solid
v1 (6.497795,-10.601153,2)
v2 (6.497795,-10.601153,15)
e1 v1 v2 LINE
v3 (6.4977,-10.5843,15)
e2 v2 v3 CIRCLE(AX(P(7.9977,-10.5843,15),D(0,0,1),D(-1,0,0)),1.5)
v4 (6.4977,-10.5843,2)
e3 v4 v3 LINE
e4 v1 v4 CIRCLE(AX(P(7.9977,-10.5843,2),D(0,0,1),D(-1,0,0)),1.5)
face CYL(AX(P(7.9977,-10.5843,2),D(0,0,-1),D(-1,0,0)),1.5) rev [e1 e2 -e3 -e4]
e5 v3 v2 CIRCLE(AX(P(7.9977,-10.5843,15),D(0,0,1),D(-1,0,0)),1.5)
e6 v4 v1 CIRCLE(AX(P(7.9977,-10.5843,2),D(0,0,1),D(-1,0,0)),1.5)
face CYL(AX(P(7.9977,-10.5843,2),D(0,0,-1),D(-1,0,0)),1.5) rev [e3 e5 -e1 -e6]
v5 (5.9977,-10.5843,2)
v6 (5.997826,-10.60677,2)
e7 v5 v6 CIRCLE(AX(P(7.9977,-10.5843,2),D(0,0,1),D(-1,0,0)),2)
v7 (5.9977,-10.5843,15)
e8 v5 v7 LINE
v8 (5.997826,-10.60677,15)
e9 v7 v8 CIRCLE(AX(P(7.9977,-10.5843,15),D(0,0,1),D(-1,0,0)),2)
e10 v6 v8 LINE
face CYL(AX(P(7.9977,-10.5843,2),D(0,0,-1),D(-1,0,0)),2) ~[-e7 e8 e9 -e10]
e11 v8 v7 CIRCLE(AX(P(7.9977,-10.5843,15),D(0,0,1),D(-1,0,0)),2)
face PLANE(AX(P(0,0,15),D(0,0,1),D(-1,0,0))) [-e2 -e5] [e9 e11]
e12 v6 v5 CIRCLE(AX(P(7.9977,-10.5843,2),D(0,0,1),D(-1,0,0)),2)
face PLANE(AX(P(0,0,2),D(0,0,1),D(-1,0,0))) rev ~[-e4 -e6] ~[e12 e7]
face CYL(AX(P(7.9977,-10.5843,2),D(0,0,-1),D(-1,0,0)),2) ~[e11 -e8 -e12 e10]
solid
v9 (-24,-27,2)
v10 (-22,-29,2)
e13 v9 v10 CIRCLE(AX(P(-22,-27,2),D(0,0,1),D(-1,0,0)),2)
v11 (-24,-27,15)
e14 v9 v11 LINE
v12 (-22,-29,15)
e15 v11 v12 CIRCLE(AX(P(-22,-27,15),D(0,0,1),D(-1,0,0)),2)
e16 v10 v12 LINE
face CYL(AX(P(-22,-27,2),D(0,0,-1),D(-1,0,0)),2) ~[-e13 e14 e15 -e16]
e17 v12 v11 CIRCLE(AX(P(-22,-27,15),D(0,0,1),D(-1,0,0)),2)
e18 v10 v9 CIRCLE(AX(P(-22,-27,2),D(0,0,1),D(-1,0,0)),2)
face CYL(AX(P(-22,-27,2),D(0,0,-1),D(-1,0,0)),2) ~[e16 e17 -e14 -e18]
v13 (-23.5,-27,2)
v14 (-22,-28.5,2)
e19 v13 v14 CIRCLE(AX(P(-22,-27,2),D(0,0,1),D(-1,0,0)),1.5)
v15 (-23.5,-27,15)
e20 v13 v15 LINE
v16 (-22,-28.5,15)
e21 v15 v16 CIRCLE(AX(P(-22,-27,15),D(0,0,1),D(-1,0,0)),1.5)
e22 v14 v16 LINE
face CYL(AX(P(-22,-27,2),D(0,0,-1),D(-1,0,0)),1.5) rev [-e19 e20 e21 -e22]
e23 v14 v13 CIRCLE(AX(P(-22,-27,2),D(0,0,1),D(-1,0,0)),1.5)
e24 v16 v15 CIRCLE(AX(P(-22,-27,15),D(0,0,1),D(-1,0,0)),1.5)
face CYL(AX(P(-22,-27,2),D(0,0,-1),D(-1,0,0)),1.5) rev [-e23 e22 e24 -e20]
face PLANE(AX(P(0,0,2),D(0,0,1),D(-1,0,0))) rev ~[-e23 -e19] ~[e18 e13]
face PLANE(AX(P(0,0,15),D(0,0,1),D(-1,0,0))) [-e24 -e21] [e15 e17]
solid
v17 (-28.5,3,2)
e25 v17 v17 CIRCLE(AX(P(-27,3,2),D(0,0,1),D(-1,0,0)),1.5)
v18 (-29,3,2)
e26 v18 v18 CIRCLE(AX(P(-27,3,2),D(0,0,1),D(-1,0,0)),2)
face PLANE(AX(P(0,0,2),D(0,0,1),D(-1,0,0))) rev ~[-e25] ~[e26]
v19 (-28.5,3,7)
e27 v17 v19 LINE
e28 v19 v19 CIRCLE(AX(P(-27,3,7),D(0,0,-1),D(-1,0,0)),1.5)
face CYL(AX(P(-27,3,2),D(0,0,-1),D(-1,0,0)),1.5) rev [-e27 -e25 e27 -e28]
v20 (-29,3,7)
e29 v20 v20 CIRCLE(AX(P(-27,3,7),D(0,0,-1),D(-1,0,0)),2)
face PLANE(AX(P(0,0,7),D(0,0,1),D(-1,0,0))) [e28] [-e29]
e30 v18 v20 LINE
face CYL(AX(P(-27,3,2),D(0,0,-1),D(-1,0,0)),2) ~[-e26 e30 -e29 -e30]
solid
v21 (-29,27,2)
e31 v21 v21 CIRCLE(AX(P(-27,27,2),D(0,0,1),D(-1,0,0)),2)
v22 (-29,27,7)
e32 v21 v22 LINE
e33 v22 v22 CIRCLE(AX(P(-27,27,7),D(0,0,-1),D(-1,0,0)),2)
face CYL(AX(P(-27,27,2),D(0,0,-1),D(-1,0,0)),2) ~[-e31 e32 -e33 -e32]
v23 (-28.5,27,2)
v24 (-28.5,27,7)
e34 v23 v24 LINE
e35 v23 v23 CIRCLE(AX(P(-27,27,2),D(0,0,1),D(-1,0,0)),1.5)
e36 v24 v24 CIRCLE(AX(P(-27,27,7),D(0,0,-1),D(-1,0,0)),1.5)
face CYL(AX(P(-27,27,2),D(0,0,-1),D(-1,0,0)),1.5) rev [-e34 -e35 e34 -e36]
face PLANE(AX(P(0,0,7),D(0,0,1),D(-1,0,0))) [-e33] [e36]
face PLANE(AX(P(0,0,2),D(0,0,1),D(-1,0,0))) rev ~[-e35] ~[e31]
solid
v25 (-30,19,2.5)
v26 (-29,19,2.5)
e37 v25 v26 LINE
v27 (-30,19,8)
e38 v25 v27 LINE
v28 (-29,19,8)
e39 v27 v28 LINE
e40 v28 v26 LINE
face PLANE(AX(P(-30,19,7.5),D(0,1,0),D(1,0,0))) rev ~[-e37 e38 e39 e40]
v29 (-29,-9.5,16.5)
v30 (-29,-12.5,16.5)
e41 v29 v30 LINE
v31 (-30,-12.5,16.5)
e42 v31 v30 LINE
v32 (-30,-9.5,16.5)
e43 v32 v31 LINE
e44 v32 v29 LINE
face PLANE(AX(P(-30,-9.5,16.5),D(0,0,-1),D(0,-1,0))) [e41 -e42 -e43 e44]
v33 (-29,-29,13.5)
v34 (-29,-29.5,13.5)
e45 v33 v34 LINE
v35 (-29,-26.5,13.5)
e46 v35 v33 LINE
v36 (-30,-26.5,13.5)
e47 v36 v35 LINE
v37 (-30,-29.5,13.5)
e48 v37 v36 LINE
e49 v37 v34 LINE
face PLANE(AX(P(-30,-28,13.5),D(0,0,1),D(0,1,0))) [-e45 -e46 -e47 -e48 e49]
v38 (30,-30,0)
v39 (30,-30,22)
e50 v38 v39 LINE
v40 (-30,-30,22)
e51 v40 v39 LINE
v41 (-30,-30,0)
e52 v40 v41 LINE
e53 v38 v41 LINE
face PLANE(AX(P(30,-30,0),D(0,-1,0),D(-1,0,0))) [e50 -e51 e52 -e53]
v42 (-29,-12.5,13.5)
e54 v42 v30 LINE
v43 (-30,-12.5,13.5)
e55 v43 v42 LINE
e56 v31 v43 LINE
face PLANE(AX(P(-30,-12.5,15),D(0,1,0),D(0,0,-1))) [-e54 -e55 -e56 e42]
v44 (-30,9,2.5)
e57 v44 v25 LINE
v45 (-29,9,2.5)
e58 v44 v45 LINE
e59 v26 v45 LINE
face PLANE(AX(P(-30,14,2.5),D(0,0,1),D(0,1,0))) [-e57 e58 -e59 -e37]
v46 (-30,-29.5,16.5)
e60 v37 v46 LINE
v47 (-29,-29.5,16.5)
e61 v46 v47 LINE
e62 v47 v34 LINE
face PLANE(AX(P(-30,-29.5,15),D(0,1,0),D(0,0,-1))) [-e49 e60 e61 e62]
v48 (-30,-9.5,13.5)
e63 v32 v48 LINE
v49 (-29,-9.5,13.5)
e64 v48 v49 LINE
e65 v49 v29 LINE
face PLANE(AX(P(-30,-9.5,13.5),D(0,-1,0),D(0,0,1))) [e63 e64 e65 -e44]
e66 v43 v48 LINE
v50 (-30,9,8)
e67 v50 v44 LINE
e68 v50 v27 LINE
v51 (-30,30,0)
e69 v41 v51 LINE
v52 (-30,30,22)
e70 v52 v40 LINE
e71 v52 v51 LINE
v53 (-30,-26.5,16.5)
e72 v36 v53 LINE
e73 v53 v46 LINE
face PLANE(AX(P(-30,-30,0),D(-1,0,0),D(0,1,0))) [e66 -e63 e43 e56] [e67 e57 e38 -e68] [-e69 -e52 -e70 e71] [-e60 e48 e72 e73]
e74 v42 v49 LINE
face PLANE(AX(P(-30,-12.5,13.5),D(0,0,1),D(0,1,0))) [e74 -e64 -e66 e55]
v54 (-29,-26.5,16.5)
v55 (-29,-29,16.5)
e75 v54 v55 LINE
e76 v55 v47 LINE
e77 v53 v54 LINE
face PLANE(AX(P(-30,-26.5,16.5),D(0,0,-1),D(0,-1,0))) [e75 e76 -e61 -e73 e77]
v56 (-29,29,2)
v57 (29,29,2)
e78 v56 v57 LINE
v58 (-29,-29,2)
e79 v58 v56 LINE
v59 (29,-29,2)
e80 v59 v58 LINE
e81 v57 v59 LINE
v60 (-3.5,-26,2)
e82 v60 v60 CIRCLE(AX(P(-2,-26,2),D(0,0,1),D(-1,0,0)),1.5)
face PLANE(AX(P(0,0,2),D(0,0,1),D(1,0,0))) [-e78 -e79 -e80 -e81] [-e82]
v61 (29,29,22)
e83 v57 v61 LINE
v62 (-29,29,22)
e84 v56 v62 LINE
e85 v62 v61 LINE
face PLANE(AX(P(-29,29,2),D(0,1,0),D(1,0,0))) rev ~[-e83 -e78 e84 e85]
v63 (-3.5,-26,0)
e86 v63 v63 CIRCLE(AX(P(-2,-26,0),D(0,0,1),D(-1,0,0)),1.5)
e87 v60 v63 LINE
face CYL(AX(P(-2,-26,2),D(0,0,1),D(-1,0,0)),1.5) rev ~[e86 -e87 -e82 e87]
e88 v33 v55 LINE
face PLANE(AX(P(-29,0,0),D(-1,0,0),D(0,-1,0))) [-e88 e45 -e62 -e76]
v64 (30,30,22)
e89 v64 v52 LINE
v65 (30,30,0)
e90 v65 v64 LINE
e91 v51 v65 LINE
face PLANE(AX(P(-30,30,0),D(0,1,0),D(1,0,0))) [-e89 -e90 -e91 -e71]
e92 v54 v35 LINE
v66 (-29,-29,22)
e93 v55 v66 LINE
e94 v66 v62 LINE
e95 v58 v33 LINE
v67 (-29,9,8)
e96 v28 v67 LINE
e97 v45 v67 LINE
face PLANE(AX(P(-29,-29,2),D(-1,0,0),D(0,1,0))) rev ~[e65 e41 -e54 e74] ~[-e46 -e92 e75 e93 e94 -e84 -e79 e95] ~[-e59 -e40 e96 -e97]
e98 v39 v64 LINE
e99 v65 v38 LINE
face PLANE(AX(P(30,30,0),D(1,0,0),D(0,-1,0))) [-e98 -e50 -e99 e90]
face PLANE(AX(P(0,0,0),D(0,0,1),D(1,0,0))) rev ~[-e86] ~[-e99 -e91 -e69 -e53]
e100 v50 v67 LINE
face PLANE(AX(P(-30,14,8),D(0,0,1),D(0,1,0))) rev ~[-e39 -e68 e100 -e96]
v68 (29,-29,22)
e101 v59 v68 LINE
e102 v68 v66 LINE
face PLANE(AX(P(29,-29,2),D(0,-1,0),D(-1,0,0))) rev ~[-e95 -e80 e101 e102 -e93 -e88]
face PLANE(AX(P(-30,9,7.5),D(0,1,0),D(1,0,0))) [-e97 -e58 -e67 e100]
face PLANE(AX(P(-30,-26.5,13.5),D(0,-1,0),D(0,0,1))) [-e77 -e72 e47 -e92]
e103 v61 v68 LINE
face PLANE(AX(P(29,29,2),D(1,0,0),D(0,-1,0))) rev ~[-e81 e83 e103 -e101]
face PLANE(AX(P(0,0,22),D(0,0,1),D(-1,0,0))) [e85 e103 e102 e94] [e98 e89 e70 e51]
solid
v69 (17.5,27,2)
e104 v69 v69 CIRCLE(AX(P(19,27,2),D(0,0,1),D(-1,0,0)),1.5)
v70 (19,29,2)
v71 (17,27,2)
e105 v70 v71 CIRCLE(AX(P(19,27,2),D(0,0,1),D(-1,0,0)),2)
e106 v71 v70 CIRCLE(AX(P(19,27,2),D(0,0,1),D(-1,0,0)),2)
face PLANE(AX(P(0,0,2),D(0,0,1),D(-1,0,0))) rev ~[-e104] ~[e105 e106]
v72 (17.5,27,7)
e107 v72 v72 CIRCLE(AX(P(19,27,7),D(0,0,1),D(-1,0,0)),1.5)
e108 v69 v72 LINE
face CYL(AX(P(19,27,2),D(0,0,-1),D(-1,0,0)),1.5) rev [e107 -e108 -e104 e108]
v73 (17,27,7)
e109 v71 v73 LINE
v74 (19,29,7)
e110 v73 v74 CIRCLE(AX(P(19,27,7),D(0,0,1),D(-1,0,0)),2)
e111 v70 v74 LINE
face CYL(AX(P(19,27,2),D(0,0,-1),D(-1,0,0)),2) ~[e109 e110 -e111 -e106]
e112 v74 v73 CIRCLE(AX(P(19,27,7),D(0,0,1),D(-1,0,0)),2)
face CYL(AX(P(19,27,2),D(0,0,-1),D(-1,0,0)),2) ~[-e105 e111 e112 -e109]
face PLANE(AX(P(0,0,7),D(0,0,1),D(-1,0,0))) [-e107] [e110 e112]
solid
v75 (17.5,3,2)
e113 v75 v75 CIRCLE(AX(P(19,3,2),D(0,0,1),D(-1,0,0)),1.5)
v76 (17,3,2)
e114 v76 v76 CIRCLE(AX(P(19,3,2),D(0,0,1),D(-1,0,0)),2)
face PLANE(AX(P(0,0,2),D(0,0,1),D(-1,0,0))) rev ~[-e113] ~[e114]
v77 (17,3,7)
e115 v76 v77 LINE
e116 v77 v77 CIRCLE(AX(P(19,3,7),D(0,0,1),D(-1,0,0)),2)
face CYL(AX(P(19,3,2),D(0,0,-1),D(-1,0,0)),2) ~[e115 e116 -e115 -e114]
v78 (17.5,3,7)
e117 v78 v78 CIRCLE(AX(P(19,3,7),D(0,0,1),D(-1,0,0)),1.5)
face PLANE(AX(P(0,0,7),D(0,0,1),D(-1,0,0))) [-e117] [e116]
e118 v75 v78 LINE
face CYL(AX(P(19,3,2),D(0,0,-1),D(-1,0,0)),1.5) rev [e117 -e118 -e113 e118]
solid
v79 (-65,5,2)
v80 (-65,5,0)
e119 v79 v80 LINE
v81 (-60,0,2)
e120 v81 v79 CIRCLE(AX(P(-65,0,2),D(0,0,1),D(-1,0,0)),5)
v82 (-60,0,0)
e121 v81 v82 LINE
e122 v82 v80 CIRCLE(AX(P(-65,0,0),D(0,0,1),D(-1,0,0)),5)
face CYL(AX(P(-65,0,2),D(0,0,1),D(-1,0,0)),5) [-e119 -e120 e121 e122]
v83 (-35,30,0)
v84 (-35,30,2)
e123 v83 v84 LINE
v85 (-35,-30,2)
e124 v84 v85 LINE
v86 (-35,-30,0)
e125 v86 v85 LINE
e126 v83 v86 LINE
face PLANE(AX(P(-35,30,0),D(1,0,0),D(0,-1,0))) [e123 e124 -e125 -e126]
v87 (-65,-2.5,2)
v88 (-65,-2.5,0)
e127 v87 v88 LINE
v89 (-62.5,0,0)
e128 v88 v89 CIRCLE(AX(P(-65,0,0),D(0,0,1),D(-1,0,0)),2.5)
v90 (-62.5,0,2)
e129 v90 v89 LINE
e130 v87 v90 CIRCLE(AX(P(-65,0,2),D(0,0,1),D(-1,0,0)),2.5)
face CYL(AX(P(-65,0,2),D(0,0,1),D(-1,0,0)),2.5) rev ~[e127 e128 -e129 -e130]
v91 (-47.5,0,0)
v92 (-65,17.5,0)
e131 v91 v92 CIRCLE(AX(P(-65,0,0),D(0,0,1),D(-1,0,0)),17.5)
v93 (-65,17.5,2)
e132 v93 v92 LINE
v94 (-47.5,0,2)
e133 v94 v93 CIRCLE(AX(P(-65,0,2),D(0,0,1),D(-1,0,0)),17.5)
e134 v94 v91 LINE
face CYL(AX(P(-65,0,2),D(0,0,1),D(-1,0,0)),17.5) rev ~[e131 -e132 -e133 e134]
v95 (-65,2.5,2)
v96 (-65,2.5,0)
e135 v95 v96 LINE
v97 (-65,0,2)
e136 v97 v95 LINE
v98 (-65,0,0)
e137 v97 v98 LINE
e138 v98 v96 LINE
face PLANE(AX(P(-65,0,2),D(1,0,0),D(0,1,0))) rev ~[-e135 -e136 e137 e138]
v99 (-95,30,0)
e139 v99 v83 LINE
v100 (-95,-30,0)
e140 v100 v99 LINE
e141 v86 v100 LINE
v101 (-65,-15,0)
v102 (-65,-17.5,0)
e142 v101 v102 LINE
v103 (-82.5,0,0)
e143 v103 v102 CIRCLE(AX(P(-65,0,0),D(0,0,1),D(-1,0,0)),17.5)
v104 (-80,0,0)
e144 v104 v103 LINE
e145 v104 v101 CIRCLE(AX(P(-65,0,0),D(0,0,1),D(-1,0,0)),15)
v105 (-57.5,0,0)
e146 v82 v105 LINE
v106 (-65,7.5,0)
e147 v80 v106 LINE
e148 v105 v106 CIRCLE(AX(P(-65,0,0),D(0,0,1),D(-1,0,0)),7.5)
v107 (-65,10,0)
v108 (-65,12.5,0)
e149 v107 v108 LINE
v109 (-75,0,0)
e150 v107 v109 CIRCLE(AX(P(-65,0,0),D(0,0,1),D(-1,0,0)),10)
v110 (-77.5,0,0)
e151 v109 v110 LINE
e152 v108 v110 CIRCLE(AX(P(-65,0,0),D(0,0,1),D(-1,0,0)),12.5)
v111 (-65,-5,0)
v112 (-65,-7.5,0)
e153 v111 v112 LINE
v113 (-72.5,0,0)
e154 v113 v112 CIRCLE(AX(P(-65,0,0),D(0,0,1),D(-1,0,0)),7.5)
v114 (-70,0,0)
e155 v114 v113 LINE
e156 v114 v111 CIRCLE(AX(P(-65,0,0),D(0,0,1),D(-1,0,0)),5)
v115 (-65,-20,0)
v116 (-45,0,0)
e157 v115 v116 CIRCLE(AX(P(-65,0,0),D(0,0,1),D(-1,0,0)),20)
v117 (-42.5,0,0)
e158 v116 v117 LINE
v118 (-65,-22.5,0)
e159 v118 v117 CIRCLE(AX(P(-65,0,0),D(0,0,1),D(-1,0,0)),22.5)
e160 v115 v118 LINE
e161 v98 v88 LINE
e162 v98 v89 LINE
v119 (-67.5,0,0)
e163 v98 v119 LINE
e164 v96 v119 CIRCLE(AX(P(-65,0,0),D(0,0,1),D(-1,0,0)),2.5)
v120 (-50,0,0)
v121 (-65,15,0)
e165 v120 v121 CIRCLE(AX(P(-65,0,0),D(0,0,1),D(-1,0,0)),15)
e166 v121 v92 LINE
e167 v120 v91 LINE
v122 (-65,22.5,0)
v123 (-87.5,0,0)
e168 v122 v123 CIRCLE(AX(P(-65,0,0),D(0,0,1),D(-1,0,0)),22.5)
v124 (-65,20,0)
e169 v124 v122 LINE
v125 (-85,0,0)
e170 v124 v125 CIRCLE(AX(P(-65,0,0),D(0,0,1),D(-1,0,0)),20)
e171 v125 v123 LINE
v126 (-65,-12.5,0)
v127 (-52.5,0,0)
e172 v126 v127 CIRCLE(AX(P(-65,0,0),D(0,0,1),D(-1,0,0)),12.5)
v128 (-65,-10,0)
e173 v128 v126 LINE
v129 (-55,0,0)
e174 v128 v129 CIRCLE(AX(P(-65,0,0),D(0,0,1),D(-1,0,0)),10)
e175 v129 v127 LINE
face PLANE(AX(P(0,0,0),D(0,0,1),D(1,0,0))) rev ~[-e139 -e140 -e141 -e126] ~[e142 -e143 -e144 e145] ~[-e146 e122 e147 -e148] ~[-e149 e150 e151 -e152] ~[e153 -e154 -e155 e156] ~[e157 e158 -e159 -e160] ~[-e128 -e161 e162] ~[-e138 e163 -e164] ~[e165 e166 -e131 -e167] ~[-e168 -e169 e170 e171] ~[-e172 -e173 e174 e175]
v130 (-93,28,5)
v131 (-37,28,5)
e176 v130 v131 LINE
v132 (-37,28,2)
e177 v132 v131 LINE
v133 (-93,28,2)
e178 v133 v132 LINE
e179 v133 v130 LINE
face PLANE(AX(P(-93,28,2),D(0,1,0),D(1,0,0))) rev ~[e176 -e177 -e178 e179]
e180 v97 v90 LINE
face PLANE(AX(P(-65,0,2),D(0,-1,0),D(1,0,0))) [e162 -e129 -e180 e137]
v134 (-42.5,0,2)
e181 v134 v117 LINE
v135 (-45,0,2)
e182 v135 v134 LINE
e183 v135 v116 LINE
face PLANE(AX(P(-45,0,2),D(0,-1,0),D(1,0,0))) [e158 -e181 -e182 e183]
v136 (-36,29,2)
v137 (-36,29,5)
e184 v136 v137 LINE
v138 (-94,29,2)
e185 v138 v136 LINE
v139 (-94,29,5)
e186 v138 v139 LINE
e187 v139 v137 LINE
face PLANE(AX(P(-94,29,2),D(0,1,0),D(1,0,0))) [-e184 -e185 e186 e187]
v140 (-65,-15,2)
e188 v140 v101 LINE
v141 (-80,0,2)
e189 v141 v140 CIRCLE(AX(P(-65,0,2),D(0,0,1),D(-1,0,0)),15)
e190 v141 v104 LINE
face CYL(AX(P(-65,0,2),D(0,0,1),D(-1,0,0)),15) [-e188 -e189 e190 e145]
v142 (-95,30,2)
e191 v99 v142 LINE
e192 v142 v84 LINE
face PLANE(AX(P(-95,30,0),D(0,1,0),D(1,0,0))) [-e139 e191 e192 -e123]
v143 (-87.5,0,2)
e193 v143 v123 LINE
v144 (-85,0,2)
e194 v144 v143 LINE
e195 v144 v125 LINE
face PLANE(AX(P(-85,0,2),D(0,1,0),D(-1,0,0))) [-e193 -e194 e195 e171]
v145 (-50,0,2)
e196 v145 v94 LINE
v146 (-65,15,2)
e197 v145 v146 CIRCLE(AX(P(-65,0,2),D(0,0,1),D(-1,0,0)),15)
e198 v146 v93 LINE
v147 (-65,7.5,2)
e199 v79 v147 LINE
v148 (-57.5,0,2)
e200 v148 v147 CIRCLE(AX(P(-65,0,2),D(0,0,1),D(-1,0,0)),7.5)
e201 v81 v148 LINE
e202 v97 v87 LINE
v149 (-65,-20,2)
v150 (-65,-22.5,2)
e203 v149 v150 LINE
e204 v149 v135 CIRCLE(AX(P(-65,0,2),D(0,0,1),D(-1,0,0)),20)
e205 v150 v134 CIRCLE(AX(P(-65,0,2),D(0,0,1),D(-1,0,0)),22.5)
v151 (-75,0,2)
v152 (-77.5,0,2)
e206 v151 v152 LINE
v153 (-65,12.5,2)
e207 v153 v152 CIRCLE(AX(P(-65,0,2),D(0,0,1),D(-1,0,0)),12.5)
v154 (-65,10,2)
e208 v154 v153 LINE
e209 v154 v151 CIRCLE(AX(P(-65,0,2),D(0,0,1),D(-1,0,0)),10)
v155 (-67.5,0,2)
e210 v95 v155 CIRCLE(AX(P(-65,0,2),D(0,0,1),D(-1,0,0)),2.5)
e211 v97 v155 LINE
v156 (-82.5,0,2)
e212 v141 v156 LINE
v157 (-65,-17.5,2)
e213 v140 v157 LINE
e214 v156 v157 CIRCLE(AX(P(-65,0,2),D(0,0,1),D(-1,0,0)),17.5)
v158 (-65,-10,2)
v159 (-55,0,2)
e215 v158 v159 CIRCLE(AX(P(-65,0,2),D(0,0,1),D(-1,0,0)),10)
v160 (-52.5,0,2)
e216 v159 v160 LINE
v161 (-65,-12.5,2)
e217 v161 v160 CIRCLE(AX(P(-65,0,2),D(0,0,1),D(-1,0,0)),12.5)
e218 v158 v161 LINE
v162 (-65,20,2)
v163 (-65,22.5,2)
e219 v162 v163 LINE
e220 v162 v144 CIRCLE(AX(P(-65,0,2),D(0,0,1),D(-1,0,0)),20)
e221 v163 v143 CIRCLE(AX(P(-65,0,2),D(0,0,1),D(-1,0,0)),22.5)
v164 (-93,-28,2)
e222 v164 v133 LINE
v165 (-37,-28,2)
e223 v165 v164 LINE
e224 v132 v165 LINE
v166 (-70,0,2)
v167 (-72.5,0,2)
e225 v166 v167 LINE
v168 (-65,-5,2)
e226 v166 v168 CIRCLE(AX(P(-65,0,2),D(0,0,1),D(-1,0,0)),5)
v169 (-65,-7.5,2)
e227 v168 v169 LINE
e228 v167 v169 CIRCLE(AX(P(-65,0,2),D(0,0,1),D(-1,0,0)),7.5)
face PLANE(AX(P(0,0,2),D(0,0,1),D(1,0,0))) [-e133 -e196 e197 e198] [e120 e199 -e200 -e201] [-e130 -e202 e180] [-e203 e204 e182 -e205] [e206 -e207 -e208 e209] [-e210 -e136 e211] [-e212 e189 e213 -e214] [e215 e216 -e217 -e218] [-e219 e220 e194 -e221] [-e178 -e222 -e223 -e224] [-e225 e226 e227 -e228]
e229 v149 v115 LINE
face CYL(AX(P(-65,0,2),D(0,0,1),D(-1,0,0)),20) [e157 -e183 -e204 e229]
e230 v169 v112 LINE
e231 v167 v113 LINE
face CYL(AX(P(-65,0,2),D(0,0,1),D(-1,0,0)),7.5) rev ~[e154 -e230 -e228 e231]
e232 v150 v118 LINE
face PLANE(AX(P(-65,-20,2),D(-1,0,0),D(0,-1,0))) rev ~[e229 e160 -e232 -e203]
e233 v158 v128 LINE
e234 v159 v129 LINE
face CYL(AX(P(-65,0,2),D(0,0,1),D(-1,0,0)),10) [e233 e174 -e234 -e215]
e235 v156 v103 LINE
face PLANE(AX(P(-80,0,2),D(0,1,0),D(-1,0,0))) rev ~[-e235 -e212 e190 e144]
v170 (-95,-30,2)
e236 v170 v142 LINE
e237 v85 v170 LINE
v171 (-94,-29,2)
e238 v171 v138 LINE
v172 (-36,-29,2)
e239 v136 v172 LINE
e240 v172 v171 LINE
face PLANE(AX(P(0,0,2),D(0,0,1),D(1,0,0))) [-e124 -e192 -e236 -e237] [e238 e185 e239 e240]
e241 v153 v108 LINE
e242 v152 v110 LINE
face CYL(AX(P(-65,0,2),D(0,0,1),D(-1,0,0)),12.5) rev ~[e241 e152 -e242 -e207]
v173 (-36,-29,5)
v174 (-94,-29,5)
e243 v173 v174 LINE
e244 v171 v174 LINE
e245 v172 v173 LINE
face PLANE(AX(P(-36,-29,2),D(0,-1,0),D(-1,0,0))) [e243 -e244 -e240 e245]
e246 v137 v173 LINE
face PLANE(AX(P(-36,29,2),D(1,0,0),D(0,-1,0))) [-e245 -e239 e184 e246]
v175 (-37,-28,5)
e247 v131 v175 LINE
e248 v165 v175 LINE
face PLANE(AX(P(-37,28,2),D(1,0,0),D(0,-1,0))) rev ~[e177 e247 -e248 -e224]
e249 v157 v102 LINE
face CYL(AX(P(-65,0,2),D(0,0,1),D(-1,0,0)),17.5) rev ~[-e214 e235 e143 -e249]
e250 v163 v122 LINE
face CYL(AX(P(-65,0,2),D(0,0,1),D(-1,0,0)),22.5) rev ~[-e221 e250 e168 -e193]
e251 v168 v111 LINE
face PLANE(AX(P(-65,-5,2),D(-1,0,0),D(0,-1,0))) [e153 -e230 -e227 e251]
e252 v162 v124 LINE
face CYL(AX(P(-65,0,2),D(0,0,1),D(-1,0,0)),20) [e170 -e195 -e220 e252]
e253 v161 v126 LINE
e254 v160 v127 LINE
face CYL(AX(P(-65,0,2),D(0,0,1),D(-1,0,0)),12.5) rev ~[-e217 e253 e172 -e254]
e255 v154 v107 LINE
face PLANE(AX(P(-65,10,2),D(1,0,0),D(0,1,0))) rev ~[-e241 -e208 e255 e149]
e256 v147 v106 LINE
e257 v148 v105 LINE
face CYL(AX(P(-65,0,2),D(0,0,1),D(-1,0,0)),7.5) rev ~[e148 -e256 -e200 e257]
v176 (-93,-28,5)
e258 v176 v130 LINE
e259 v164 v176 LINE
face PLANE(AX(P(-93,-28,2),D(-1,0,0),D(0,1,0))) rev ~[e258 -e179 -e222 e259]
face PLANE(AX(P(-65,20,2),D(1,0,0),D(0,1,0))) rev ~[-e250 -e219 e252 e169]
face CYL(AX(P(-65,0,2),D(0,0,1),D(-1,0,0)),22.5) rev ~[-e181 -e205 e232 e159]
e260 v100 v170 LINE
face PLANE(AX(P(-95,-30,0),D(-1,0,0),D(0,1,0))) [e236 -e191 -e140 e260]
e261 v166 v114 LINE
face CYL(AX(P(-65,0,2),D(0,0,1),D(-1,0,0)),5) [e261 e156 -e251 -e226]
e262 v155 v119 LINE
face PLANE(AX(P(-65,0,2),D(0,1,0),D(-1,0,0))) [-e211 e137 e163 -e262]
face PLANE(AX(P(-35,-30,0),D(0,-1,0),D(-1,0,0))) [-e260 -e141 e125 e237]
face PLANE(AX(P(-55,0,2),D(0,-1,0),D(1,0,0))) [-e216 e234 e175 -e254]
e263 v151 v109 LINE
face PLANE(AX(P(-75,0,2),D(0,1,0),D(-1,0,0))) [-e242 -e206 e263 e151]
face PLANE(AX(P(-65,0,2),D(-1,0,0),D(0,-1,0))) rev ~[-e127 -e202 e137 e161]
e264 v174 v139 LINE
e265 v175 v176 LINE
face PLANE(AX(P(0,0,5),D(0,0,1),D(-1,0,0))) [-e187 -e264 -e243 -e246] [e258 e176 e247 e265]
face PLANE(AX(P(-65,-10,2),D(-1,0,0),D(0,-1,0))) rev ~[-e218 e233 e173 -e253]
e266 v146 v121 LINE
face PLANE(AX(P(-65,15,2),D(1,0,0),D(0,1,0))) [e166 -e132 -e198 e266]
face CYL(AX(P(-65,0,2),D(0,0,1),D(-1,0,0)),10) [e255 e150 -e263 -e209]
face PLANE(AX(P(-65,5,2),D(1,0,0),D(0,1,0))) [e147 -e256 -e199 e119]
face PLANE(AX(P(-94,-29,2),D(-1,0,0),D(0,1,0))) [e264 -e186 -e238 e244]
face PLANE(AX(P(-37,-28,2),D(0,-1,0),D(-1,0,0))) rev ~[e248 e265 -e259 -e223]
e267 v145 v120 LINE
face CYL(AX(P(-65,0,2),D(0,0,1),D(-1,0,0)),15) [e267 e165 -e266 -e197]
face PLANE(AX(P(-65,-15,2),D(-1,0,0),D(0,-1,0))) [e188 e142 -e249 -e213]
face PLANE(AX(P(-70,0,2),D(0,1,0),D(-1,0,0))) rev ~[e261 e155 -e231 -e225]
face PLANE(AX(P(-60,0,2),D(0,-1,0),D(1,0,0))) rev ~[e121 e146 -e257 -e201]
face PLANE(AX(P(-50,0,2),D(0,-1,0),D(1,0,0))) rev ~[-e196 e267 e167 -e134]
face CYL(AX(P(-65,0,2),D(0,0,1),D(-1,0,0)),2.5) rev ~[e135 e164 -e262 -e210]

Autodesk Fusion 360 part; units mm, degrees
sketch "Sketch1" plane through (0, 0, 0) normal (0, 0, 1) x (1, 0, 0)
  line L0 (30, -30) -> (-30, -30)
  line L1 (-30, -30) -> (-30, 30)
  line L2 (-30, 30) -> (30, 30)
  line L3 (30, 30) -> (30, -30)
  line L4 (30, -30) -> (-30, 30) construction
  line L5 (-30, -30) -> (30, 30) construction
  dimension "d1" = 60
  dimension "d2" = 60
extrude "Extrude1" add sketch "Sketch1" along normal blind 2 makes body 1
sketch "Sketch2" plane through (0, 0, 2) normal (0, 0, 1) x (-1, 0, 0)
  line L0 (-30, -30) -> (30, -30)
  line L1 (30, -30) -> (30, 30)
  line L2 (30, 30) -> (-30, 30)
  line L3 (-30, 30) -> (-30, -30)
  line L4 (30, -30) -> (-30, -30)
  line L5 (-30, -30) -> (-30, 30)
  line L6 (-30, 30) -> (30, 30)
  line L7 (30, 30) -> (30, -30)
  line L8 (29, -29) -> (-29, -29)
  line L9 (-29, -29) -> (-29, 29)
  line L10 (-29, 29) -> (29, 29)
  line L11 (29, 29) -> (29, -29)
extrude "Extrude2" add sketch "Sketch2" along normal blind 20 bodies 1
sketch "Sketch3" plane through (0, 0, 2) normal (0, 0, 1) x (-1, 0, 0)
  line L0 (-29, 29) -> (-29, -29)
  line L1 (-29, -29) -> (29, -29)
  line L2 (29, -29) -> (29, 29)
  line L3 (29, 29) -> (-29, 29)
  circle A0 centre (27, -27) radius 2
  circle A1 centre (27, -27) radius 1.5
  line L4 (27, -27) -> (27, -3)
  circle A2 centre (27, -3) radius 1.5
  circle A3 centre (27, -3) radius 2
  line L5 (27, -27) -> (-19, -27)
  circle A4 centre (-19, -27) radius 1.5
  circle A5 centre (-19, -27) radius 2
  line L6 (27, -3) -> (-19, -3)
  circle A6 centre (-19, -3) radius 1.5
  circle A7 centre (-19, -3) radius 2
  dimension "d7" = 4
  dimension "d8" = 3
  dimension "d9" = 24
  dimension "d10" = 3
  dimension "d11" = 4
  dimension "d12" = 46
  dimension "d13" = 3
  dimension "d14" = 4
  dimension "d15" = 46
  dimension "d16" = 3
  dimension "d17" = 4
extrude "Extrude3" add sketch "Sketch3" along normal blind 5 separate body contours A7 | A5 | L4 A2 A3 L6 | A0 A1 L4 L5 | L4 A2 A3 L6 | A0 A1 L4 L5 makes body 2 at (-28.9901, 3.1991, 3.6667) makes body 3 at (-28.9901, 27.1991, 3.6667) makes body 4 at (17.0025, 3.0997, 5.3333) makes body 5 at (17.0025, 27.0997, 5.3333)
sketch "Sketch4" plane through (-30, 0, 0) normal (-1, 0, 0) x (0, -1, 0)
  line L0 (-30, 0) -> (30, 0)
  line L1 (30, 0) -> (30, 22)
  line L2 (30, 22) -> (-30, 22)
  line L3 (-30, 22) -> (-30, 0)
  line L4 (-30, 0) -> (-14, 0)
  line L5 (-14, 0) -> (-14, 7)
  line L6 (-14, 7) -> (-14, 7.5)
  line L7 (-14, 7.5) -> (-19, 7.5)
  line L8 (-19, 7.5) -> (-9, 7.5)
  line L9 (-9, 7.5) -> (-9, 2.5)
  line L10 (-9, 2.5) -> (-19, 2.5)
  line L11 (-19, 2.5) -> (-19, 7.5)
  dimension "d20" = 16
  dimension "d21" = 7
  dimension "d22" = 0.5
  dimension "d23" = 5
  dimension "d24" = 10
  dimension "d25" = 5
extrude "Extrude4" cut sketch "Sketch4" against normal blind 1 contours L5 L6 L7 L8 L10 L11 | L5 L6 L8 L9 L10 bodies 1
extrude "Extrude5" cut 1 faces at (-29.6667, 12.3333, 7.5) along direction (0, 0, 1) blind 0.5 on bodies 1 bodies 1
sketch "Sketch5" plane through (0, 0, 2) normal (0, 0, 1) x (-1, 0, 0)
  line L0 (-29, 29) -> (-29, -29)
  line L1 (-29, -29) -> (29, -29)
  line L2 (29, -29) -> (29, 29)
  line L3 (29, 29) -> (-29, 29)
  line L4 (22, 29) -> (29, 29)
  line L5 (22, 29) -> (22, 27)
  circle A0 centre (22, 27) radius 2
  circle A1 centre (22, 27) radius 1.5
  line L6 (29, 29) -> (29, 11)
  line L7 (29, 11) -> (-7.9977, 10.5843)
  circle A2 centre (-7.9977, 10.5843) radius 1.5
  circle A3 centre (-7.9977, 10.5843) radius 2
  dimension "d31" = 7
  dimension "d32" = 2
  dimension "d33" = 4
  dimension "d34" = 3
  dimension "d35" = 18
  dimension "d37" = 37
  dimension "d38" = 3
  dimension "d39" = 4
extrude "Extrude6" add sketch "Sketch5" along normal blind 13 separate body contours A3 | A0 makes body 6 at (-23.9901, -26.8009, 6.3333) makes body 7 at (6.0076, -10.3852, 6.3333)
sketch "Sketch6" plane through (0, 0, 2) normal (0, 0, 1) x (-1, 0, 0)
  line L0 (-29, 29) -> (-29, -29)
  line L1 (-29, -29) -> (29, -29)
  line L2 (29, -29) -> (29, 29)
  line L3 (29, 29) -> (-29, 29)
  line L4 (29, 29) -> (2, 29)
  line L5 (2, 29) -> (2, 26)
  circle A0 centre (2, 26) radius 1.5
  dimension "d42" = 27
  dimension "d43" = 3
  dimension "d44" = 3
extrude "Extrude7" cut sketch "Sketch6" against normal blind 5 contours A0 bodies 1
sketch "Sketch7" plane through (-30, 0, 0) normal (-1, 0, 0) x (0, -1, 0)
  line L0 (-9, 8) -> (-9, 2.5)
  line L1 (-9, 2.5) -> (-19, 2.5)
  line L2 (-19, 2.5) -> (-19, 8)
  line L3 (-19, 8) -> (-9, 8)
  line L4 (-30, 0) -> (30, 0)
  line L5 (30, 0) -> (30, 22)
  line L6 (30, 22) -> (-30, 22)
  line L7 (-30, 22) -> (-30, 0)
  line L8 (30, 0) -> (28, 0)
  line L9 (28, 0) -> (28, 15)
  line L10 (29.5, 13.5) -> (26.5, 13.5)
  line L11 (26.5, 13.5) -> (26.5, 16.5)
  line L12 (26.5, 16.5) -> (29.5, 16.5)
  line L13 (29.5, 16.5) -> (29.5, 13.5)
  line L14 (29.5, 13.5) -> (26.5, 16.5) construction
  line L15 (26.5, 13.5) -> (29.5, 16.5) construction
  line L16 (29.5, 15) -> (9.5, 15)
  line L17 (9.5, 15) -> (11, 15)
  line L18 (12.5, 13.5) -> (9.5, 13.5)
  line L19 (9.5, 13.5) -> (9.5, 16.5)
  line L20 (9.5, 16.5) -> (12.5, 16.5)
  line L21 (12.5, 16.5) -> (12.5, 13.5)
  line L22 (12.5, 13.5) -> (9.5, 16.5) construction
  line L23 (9.5, 13.5) -> (12.5, 16.5) construction
  point P0 (28, 15)
  point P1 (11, 15)
  dimension "d47" = 15
  dimension "d48" = 3
  dimension "d49" = 3
  dimension "d50" = 20
  dimension "d51" = 1.5
  dimension "d52" = 3
  dimension "d53" = 3
extrude "Extrude8" cut sketch "Sketch7" against normal blind 1 contours L16 L17 L18 L19 L21 | L16 L17 L19 L20 L21 | L9 L10 L11 L16 | L9 L10 L13 L16 | L11 L12 L13 L16 bodies 1
sketch "Sketch8" plane through (0, 0, 0) normal (0, 0, 1) x (1, 0, 0)
  line L0 (-35, -30) -> (-95, -30)
  line L1 (-95, -30) -> (-95, 30)
  line L2 (-95, 30) -> (-35, 30)
  line L3 (-35, 30) -> (-35, -30)
  dimension "d56" = 60
extrude "Extrude9" add sketch "Sketch8" along normal blind 2 separate body makes body 8
sketch "Sketch9" plane through (0, 0, 2) normal (0, 0, 1) x (-1, 0, 0)
  line L0 (35, -30) -> (95, -30)
  line L1 (95, -30) -> (95, 30)
  line L2 (95, 30) -> (35, 30)
  line L3 (35, 30) -> (35, -30)
  line L4 (35, 30) -> (36, 30)
  line L5 (36, 29) -> (94, 29)
  line L6 (94, 29) -> (94, -29)
  line L7 (94, -29) -> (36, -29)
  line L8 (36, -29) -> (36, 29)
  line L9 (37, 28) -> (93, 28)
  line L10 (93, 28) -> (93, -28)
  line L11 (93, -28) -> (37, -28)
  line L12 (37, -28) -> (37, 28)
  dimension "d59" = 1
extrude "Extrude10" add sketch "Sketch9" along normal blind 3 contours L5 L6 L7 L8 bodies 8
sketch "Sketch10" plane through (0, 0, 2) normal (0, 0, 1) x (-1, 0, 0)
  line L0 (93, -28) -> (93, 28)
  line L1 (93, 28) -> (37, 28)
  line L2 (37, 28) -> (37, -28)
  line L3 (37, -28) -> (93, -28)
  circle A0 centre (65, 0) radius 2.5
  circle A1 centre (65, 0) radius 5
  circle A2 centre (65, 0) radius 7.5
  circle A3 centre (65, 0) radius 10
  circle A4 centre (65, 0) radius 25
  circle A5 centre (65, 0) radius 12.5
  circle A6 centre (65, 0) radius 15
  circle A7 centre (65, 0) radius 17.5
  circle A8 centre (65, 0) radius 20
  circle A9 centre (65, 0) radius 7.5
  circle A10 centre (65, 0) radius 22.5
  line L4 (65, 0) -> (65, -25)
  line L5 (65, 0) -> (90, 0)
  line L6 (65, 0) -> (65, 25)
  line L7 (65, 0) -> (40, 0)
  dimension "d62" = 5
  dimension "d63" = 10
  dimension "d64" = 15
  dimension "d65" = 20
  dimension "d66" = 50
  dimension "d67" = 25
  dimension "d68" = 30
  dimension "d69" = 35
  dimension "d70" = 40
  dimension "d71" = 15
  dimension "d72" = 45
extrude "Extrude11" cut sketch "Sketch10" against normal blind 3 contours A0 L4 L5 | A0 L6 L7 | A1 A2 A9 L5 L6 | A1 A2 A9 L4 L7 | A3 A5 L4 L5 | A3 A5 L6 L7 | A6 A7 L5 L6 | A6 A7 L4 L7 | A8 A10 L4 L5 | A8 A10 L6 L7 bodies 8
